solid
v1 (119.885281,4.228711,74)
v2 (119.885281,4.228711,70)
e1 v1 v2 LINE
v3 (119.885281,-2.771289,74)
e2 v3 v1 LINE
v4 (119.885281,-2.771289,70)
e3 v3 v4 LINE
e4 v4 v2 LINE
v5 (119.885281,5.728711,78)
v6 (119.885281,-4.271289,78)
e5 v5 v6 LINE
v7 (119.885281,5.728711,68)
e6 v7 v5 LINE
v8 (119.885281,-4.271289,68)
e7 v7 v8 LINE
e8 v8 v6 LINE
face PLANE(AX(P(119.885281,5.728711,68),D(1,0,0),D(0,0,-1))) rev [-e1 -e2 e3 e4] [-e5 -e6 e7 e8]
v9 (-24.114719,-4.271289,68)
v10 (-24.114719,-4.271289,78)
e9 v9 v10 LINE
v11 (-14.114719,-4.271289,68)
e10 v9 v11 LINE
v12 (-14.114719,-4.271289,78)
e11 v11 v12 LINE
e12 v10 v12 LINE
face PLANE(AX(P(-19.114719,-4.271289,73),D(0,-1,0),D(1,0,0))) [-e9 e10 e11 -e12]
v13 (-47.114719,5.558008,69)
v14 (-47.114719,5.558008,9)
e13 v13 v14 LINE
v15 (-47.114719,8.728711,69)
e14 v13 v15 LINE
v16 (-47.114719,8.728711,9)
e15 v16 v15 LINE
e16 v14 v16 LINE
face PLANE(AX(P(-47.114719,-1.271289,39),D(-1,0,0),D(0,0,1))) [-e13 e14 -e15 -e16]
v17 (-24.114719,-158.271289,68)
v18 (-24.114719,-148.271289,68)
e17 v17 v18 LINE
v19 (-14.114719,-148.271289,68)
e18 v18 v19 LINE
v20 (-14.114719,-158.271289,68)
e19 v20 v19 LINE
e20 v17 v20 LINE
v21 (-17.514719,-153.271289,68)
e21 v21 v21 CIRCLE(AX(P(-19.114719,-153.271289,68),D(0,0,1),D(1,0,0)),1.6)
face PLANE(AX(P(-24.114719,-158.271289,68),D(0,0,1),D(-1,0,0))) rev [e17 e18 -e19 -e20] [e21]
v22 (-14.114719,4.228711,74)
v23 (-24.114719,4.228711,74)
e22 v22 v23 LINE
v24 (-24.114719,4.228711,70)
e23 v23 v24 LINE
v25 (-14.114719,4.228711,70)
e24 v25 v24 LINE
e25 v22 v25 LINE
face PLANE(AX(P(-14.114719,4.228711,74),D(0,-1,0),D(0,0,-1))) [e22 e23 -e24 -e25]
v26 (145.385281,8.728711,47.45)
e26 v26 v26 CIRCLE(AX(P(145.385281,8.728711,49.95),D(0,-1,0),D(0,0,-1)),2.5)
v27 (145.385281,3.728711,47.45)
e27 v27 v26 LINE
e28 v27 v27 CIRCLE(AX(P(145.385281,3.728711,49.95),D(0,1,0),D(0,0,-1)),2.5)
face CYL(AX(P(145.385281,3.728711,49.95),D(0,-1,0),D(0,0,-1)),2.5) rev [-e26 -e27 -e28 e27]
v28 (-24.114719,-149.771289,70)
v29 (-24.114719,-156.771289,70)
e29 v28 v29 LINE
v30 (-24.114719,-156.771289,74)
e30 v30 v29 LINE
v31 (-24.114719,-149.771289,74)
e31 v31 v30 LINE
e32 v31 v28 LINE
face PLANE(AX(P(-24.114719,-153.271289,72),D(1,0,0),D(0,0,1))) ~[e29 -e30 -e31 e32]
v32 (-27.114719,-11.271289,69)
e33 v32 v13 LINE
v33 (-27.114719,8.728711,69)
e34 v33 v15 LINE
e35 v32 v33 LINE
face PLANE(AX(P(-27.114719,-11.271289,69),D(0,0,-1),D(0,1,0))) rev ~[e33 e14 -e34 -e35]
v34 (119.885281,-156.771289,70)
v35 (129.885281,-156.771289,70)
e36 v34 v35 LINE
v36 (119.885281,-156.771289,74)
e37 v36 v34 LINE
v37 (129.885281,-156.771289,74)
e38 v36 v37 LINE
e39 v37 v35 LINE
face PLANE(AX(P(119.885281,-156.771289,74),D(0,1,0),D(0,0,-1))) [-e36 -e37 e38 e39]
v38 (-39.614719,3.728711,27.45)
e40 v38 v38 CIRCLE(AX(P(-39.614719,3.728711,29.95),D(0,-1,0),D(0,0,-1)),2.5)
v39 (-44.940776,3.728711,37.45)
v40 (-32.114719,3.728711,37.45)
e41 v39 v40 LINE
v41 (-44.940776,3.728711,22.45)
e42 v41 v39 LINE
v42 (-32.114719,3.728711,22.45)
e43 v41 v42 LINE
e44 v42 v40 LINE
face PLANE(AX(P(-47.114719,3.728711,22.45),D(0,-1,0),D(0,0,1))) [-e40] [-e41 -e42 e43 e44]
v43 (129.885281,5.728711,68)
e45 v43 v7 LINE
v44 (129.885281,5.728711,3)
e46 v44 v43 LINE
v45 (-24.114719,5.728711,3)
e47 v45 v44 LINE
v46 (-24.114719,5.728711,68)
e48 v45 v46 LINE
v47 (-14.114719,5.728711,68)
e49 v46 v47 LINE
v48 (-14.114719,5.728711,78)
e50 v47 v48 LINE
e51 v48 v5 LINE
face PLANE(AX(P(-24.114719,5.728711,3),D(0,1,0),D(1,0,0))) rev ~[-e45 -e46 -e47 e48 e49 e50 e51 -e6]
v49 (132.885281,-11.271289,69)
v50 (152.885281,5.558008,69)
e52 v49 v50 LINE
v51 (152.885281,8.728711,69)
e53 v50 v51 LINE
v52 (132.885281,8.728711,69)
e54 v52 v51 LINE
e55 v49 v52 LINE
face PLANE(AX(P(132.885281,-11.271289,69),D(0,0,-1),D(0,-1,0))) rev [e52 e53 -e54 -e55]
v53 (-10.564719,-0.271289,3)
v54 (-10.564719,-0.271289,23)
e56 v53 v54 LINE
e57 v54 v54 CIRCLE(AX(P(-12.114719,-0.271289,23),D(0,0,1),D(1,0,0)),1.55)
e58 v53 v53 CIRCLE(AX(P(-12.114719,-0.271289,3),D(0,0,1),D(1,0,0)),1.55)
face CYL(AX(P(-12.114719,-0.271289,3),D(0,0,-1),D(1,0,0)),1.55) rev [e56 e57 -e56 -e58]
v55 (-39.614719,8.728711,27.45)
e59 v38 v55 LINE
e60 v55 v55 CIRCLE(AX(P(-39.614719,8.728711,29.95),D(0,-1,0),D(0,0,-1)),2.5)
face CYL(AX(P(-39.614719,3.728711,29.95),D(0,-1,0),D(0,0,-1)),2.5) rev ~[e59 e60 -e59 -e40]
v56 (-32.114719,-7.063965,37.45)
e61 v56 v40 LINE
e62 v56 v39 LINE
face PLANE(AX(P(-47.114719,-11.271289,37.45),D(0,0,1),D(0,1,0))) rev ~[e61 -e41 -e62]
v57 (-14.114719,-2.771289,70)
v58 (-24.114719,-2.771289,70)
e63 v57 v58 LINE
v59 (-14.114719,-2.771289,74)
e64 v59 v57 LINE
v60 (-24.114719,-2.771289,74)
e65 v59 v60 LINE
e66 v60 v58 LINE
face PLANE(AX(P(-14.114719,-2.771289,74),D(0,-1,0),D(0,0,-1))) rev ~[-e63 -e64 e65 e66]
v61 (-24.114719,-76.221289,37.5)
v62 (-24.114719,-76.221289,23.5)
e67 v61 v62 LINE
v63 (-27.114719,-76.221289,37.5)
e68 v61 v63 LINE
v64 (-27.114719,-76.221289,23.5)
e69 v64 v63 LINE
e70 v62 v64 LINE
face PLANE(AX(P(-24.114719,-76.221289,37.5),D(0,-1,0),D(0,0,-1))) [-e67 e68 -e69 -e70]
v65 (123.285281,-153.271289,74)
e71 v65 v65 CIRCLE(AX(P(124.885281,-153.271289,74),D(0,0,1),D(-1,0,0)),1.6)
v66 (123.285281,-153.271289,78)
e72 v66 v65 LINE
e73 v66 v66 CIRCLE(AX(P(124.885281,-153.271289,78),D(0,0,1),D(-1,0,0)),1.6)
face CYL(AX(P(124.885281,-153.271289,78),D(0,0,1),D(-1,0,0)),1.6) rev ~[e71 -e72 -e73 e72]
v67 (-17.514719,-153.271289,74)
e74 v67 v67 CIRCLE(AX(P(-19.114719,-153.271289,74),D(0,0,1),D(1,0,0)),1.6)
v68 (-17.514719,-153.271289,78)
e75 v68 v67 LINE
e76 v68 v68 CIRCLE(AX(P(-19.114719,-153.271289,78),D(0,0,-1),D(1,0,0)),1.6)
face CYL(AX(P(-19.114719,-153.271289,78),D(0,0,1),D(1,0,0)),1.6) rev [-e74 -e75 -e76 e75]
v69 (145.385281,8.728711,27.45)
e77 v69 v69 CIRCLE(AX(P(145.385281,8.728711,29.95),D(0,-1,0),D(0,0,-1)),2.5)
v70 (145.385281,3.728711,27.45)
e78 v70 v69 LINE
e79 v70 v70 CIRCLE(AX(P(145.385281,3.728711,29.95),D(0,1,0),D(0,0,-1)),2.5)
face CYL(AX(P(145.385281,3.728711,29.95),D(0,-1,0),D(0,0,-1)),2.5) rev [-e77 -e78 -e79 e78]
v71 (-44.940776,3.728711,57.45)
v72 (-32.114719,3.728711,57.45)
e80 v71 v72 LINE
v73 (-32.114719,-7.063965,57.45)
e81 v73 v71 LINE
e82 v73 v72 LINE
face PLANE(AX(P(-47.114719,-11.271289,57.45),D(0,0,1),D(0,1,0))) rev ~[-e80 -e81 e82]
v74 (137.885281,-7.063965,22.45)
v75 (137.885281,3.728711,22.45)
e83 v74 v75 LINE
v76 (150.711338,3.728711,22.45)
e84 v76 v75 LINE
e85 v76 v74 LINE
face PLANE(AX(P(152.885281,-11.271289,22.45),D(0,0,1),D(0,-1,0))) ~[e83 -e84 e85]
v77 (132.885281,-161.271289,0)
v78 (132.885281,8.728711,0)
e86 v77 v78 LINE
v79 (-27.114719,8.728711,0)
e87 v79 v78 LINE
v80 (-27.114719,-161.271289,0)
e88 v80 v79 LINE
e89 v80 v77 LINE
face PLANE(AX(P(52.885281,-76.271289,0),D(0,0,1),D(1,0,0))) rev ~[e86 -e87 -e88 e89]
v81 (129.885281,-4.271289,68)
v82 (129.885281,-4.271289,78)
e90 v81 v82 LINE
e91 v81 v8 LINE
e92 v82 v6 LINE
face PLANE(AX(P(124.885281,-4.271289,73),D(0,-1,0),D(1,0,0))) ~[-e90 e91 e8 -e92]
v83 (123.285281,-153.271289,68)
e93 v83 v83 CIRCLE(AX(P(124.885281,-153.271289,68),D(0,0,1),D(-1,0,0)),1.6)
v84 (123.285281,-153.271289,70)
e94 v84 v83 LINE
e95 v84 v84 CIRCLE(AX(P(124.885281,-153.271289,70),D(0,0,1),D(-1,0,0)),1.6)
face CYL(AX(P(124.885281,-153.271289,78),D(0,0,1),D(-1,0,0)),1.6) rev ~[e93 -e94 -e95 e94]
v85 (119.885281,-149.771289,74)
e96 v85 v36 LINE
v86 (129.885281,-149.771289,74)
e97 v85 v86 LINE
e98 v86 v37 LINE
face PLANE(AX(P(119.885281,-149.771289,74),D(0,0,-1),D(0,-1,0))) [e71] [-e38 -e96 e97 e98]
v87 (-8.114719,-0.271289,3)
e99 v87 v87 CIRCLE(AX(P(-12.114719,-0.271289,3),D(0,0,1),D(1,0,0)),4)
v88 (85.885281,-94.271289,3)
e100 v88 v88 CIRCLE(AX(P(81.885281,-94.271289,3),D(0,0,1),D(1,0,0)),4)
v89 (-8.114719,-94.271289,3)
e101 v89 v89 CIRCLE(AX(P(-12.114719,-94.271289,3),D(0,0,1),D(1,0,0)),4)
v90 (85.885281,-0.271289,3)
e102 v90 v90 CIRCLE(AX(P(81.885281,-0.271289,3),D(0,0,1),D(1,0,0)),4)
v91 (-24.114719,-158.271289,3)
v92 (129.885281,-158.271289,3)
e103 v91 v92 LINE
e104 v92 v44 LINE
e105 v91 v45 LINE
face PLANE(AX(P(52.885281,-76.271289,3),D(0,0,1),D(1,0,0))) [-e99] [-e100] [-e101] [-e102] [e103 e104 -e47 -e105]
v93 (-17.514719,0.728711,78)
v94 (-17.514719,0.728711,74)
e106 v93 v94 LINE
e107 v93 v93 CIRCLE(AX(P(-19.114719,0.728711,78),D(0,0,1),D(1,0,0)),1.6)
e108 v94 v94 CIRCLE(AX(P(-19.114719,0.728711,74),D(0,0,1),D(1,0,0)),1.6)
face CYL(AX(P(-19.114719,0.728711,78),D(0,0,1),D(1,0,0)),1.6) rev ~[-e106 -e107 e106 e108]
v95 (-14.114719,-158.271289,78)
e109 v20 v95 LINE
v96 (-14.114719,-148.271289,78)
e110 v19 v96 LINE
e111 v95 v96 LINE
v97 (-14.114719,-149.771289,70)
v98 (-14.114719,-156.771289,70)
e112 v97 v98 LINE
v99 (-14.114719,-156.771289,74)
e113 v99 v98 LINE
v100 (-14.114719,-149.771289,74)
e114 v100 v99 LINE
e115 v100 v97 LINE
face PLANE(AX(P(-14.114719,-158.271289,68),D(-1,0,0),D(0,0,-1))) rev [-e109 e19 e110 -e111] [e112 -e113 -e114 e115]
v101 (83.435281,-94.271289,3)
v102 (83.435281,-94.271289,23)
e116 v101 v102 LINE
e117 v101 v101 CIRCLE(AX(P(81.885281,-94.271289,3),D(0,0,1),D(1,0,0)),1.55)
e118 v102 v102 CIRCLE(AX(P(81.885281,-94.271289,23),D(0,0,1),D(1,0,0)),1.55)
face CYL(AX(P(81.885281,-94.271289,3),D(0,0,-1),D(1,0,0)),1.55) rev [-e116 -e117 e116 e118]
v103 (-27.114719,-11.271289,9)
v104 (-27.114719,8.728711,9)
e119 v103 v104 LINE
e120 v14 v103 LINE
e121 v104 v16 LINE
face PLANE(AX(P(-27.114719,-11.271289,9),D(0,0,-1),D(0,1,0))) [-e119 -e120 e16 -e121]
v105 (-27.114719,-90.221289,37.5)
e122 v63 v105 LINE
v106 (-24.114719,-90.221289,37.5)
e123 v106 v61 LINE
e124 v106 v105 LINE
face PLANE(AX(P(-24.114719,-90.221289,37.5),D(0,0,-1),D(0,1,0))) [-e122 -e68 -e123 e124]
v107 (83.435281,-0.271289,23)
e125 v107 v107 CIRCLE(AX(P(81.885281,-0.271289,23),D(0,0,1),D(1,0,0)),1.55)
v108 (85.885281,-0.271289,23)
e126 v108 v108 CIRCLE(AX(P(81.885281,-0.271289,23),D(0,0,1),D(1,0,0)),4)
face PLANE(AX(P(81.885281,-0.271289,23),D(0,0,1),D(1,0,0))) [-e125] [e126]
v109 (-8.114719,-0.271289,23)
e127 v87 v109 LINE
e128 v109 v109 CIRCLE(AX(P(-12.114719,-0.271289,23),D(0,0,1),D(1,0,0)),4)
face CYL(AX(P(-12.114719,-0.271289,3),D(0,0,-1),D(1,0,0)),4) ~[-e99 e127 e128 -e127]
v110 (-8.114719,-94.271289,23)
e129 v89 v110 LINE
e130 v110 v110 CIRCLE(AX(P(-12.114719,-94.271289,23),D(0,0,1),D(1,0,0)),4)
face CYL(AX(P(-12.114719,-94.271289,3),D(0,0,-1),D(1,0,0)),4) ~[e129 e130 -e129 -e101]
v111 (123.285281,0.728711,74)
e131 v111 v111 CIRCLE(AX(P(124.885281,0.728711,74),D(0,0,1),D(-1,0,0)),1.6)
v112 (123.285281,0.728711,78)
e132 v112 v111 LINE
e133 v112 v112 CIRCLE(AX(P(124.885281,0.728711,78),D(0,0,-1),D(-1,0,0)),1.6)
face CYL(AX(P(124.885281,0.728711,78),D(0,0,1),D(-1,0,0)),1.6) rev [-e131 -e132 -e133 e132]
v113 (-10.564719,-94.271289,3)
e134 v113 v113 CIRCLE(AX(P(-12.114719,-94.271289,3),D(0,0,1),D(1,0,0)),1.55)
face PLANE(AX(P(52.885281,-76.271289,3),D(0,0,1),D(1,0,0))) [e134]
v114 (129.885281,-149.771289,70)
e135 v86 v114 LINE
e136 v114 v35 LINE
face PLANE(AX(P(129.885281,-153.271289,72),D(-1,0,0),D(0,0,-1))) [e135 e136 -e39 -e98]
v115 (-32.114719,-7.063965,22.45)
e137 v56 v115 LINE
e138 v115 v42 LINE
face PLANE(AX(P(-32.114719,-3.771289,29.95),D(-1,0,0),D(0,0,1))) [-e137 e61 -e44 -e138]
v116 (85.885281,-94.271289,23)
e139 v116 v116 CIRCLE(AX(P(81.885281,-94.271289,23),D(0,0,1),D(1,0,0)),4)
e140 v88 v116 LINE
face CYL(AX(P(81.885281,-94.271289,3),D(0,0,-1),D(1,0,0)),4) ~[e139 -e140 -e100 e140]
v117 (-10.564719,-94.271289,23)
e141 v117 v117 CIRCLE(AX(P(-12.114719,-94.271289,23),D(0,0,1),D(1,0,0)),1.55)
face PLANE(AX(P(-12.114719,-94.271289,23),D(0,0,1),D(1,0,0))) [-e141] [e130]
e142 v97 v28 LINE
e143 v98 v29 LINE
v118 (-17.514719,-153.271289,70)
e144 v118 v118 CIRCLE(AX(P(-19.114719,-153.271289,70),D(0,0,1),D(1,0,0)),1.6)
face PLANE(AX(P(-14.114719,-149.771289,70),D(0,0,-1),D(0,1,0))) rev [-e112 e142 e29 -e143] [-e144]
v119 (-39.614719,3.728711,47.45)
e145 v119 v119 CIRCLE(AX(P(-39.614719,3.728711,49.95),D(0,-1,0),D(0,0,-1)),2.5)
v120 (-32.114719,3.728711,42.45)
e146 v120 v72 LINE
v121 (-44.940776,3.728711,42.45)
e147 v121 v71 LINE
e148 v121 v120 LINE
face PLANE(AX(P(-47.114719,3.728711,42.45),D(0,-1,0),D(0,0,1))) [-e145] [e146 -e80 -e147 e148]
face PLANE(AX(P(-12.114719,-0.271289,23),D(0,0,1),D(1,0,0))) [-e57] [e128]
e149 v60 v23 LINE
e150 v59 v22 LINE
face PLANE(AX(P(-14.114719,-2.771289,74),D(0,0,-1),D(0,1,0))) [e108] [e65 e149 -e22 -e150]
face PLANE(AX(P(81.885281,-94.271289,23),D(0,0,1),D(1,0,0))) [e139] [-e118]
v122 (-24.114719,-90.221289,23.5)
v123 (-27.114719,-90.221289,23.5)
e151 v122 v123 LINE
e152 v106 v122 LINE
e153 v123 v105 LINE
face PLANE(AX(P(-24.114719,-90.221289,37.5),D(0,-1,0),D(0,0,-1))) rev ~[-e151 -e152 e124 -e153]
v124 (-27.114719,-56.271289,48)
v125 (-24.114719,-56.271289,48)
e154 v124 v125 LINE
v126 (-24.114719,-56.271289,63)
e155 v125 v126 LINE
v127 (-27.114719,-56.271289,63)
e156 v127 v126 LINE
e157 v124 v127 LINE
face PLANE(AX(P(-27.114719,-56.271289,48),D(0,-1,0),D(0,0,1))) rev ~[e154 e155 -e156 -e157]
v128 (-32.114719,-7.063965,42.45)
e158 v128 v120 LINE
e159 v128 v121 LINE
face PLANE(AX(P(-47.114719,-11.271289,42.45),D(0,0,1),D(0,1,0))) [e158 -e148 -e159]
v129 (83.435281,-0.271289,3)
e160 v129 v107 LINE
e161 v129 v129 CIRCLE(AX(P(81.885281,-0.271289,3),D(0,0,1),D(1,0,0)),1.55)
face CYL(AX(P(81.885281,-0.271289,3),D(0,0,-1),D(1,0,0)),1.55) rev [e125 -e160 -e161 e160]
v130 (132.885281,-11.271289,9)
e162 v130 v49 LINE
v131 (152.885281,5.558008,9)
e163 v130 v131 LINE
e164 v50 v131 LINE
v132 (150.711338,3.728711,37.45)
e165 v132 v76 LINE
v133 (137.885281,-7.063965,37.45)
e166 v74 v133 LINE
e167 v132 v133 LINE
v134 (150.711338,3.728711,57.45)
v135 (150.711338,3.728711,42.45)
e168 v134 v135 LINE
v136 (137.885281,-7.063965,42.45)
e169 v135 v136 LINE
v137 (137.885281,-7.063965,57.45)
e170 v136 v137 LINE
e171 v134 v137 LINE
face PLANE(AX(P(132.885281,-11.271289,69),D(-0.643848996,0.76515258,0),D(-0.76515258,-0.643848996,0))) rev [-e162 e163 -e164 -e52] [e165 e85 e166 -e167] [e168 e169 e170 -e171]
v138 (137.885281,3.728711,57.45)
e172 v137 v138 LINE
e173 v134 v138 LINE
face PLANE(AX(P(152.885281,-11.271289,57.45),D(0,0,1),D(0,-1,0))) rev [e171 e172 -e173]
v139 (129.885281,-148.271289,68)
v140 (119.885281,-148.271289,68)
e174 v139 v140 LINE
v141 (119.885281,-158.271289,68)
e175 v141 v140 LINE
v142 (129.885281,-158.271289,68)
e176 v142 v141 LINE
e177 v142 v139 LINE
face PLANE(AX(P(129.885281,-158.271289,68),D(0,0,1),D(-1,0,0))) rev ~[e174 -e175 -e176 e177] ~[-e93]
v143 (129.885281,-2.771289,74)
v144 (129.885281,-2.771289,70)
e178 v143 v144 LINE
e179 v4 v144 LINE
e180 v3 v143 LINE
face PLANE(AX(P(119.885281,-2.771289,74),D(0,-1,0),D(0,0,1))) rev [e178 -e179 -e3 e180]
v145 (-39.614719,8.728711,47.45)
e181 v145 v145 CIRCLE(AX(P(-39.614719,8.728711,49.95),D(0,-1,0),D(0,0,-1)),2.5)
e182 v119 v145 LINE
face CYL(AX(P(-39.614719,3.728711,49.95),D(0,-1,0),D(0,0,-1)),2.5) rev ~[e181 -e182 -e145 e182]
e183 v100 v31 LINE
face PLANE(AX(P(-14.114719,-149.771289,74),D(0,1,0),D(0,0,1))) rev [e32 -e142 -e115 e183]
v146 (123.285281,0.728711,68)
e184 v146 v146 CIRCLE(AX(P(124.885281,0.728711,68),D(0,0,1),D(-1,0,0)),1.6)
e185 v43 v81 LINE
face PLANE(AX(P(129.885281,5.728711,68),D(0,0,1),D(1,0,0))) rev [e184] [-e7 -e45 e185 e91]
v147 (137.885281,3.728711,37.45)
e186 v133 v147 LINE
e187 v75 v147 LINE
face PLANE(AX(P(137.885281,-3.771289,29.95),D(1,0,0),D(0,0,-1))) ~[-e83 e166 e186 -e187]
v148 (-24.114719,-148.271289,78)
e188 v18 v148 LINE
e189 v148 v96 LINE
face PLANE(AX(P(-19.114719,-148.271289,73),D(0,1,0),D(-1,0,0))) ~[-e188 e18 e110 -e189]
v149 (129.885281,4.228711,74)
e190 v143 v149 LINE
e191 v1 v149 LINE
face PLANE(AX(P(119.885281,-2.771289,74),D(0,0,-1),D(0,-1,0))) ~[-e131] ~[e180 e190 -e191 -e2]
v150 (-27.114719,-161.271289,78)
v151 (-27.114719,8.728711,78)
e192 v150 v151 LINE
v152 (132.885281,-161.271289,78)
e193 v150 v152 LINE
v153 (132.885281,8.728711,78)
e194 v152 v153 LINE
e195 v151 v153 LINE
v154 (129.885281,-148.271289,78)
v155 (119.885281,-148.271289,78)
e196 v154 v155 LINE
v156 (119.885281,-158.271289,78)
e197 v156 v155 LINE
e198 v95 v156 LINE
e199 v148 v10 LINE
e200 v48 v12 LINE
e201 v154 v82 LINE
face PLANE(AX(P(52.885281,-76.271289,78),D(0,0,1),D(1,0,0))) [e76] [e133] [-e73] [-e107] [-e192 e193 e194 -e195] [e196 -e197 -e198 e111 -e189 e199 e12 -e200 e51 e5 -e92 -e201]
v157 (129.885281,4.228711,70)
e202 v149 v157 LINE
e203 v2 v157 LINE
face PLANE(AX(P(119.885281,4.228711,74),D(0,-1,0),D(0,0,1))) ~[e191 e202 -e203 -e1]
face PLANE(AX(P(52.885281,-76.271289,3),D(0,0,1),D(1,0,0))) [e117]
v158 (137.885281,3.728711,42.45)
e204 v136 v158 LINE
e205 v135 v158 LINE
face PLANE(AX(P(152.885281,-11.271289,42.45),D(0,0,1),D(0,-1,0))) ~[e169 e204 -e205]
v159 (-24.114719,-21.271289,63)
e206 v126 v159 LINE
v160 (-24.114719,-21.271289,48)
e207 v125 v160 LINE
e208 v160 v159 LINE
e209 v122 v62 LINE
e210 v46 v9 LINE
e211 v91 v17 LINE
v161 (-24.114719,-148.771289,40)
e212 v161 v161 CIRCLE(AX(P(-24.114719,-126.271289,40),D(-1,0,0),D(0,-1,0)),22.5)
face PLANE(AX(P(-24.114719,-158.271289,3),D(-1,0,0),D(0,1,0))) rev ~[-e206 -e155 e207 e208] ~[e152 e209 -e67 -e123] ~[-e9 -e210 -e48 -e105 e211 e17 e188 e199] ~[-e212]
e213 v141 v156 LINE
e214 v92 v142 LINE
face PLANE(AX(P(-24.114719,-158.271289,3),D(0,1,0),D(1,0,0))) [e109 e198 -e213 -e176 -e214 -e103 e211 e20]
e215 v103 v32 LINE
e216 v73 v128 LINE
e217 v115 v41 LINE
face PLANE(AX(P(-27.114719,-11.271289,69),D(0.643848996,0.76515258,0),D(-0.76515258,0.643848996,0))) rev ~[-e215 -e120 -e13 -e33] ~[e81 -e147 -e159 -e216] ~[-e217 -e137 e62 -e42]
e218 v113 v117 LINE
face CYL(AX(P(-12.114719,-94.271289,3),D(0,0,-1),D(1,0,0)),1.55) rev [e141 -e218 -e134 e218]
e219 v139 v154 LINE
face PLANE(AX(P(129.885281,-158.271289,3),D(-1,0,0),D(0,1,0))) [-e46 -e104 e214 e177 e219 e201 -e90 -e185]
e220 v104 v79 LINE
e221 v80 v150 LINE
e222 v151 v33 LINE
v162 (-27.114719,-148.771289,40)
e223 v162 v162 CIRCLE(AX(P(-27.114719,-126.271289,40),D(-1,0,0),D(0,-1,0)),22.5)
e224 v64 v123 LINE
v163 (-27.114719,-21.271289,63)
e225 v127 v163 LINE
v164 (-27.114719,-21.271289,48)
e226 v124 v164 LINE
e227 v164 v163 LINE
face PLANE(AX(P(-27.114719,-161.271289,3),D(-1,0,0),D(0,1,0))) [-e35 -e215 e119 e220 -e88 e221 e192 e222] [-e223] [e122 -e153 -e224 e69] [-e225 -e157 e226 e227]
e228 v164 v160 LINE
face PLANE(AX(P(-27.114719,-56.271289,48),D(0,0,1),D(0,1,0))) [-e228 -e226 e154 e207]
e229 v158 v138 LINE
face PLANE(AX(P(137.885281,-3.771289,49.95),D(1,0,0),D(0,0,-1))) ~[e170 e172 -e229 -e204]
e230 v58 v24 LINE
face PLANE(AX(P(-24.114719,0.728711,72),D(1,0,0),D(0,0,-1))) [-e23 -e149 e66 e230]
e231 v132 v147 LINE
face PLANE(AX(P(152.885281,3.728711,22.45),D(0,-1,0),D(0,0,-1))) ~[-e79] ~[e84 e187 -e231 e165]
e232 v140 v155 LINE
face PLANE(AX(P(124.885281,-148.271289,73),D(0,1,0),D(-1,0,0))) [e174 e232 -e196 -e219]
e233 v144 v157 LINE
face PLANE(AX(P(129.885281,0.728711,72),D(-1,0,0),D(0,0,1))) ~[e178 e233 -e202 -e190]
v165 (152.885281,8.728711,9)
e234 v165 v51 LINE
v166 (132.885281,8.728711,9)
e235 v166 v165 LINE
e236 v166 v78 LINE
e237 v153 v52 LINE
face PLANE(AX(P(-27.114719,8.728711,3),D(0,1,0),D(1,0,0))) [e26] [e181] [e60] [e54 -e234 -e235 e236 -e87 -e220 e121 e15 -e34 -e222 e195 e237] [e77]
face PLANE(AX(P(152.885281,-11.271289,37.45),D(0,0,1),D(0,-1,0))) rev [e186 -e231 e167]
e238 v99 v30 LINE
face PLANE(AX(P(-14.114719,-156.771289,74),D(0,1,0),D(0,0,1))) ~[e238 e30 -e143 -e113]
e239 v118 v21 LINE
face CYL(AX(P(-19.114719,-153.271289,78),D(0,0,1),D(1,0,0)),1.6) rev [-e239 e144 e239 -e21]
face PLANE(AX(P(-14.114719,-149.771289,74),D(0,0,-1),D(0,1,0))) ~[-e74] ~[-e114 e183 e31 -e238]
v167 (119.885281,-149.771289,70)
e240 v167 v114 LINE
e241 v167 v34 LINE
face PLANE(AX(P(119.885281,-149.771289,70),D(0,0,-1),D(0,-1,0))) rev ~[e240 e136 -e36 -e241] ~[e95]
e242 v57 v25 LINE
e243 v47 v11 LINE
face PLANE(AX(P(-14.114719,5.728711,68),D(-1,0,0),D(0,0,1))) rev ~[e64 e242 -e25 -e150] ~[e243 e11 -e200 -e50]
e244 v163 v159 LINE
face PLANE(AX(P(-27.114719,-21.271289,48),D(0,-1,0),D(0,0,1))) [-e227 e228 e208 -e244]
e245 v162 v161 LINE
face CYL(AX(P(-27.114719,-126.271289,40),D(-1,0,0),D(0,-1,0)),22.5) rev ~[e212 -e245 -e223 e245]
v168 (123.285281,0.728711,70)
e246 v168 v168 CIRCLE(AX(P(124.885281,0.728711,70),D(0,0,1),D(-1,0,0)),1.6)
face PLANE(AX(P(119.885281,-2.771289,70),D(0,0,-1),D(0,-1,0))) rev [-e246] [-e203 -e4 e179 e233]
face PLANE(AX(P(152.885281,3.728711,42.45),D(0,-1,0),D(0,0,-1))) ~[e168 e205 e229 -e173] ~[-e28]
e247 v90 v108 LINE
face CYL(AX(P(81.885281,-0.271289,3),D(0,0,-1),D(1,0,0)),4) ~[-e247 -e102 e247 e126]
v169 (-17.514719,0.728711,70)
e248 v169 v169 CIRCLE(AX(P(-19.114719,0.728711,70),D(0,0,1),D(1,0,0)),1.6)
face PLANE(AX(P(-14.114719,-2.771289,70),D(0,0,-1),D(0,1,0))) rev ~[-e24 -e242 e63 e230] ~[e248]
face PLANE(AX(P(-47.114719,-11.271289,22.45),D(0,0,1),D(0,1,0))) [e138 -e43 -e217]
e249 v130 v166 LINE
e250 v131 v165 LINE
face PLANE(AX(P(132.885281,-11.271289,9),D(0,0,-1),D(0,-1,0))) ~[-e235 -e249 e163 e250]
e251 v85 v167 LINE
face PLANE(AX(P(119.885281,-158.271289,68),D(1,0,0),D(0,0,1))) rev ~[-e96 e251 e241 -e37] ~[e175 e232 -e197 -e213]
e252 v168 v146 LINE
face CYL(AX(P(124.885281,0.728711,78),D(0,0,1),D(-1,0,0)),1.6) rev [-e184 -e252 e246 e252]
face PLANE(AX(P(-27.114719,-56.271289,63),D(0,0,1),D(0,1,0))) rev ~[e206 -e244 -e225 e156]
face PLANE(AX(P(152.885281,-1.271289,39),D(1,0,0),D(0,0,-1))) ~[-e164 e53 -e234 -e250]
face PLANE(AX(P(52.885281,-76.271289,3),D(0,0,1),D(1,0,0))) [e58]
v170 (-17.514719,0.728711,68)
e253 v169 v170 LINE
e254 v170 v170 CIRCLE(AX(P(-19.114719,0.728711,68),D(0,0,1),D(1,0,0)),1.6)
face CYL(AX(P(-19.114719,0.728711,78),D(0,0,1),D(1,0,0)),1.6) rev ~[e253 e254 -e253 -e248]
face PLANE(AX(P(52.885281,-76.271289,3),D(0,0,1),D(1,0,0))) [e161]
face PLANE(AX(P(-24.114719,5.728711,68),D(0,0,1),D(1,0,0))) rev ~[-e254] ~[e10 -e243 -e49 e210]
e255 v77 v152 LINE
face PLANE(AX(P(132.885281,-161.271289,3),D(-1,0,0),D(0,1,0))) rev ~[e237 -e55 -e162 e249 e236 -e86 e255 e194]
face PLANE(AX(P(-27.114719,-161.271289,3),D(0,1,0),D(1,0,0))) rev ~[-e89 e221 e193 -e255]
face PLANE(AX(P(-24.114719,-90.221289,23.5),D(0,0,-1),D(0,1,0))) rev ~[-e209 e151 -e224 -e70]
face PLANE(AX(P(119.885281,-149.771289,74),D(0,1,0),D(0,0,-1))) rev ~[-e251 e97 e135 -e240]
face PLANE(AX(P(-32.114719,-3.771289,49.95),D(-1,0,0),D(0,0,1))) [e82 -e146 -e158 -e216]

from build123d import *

# Parameters (mm, degrees)
SKETCH_1_W               = 160
SKETCH_1_H               = 170
EXTRUDE_1_DEPTH          = 3
SKETCH_9_W               = 160
SKETCH_9_H               = 170
SKETCH_9_W_2             = 154
SKETCH_9_H_2             = 164
EXTRUDE_6_DEPTH          = 75
SKETCH_10_R              = 4
SKETCH_10_R_2            = 1.55
EXTRUDE_7_DEPTH          = 20
SKETCH_11_W              = 14
SKETCH_11_H              = 14
CUT_EXTRUDE_3_DEPTH      = 20
SKETCH_12_R              = 22.5
CUT_EXTRUDE_4_DEPTH      = 10
SKETCH_13_W              = 15
SKETCH_13_H              = 35
CUT_EXTRUDE_5_DEPTH      = 10
SKETCH_14_W              = 10
SKETCH_14_H              = 10
EXTRUDE_8_DEPTH          = 10
SKETCH_15_W              = 4
SKETCH_15_H              = 7
CUT_EXTRUDE_6_DEPTH      = 10
SKETCH_16_R              = 1.6
CUT_EXTRUDE_7_DEPTH      = 20
MIRROR_4_COPY_1_SKETCH_W = 10
MIRROR_4_COPY_1_SKETCH_H = 10
MIRROR_4_COPY_1_DEPTH    = 10
MIRROR_4_COPY_2_SKETCH_W = 4
MIRROR_4_COPY_2_SKETCH_H = 7
MIRROR_4_COPY_2_DEPTH    = 10
MIRROR_4_COPY_3_SKETCH_R = 1.6
MIRROR_4_COPY_3_DEPTH    = 20
SKETCH_17_W              = 60
SKETCH_17_H              = 20
EXTRUDE_9_DEPTH          = 20
SKETCH_18_W              = 15
SKETCH_18_H              = 15
CUT_EXTRUDE_8_DEPTH      = 15
SKETCH_19_R              = 2.5
CUT_EXTRUDE_9_DEPTH      = 15
CUT_EXTRUDE_10_DEPTH     = 65


with BuildPart() as part:
    # 草图1 → 凸台-拉伸1 (new body)
    with BuildSketch(Plane.XY):
        with Locations((52.885281107, -76.271289123)):
            Rectangle(SKETCH_1_W, SKETCH_1_H)
    extrude(amount=EXTRUDE_1_DEPTH)

    # 草图9 → 凸台-拉伸6 (add)
    with BuildSketch(Plane.XY.offset(3)):
        with Locations((52.885281107, -76.271289123)):
            Rectangle(SKETCH_9_W, SKETCH_9_H)
        with Locations((52.885281107, -76.271289123)):
            Rectangle(SKETCH_9_W_2, SKETCH_9_H_2, mode=Mode.SUBTRACT)
    extrude(amount=EXTRUDE_6_DEPTH)

    # 草图10 → 凸台-拉伸7 (add)
    # profile 1 of 4: a face of its own
    with BuildSketch(Plane.XY.offset(3)):
        with Locations((-12.114718893, -0.271289123)):
            Circle(SKETCH_10_R)
        with Locations((-12.114718893, -0.271289123)):
            Circle(SKETCH_10_R_2, mode=Mode.SUBTRACT)
    # profile 2 of 4: a face of its own
    with BuildSketch(Plane.XY.offset(3)):
        with Locations((81.885281107, -0.271289123)):
            Circle(SKETCH_10_R)
        with Locations((81.885281107, -0.271289123)):
            Circle(SKETCH_10_R_2, mode=Mode.SUBTRACT)
    # profile 3 of 4: a face of its own
    with BuildSketch(Plane.XY.offset(3)):
        with Locations((-12.114718893, -94.271289123)):
            Circle(SKETCH_10_R)
        with Locations((-12.114718893, -94.271289123)):
            Circle(SKETCH_10_R_2, mode=Mode.SUBTRACT)
    # profile 4 of 4: a face of its own
    with BuildSketch(Plane.XY.offset(3)):
        with Locations((81.885281107, -94.271289123)):
            Circle(SKETCH_10_R)
        with Locations((81.885281107, -94.271289123)):
            Circle(SKETCH_10_R_2, mode=Mode.SUBTRACT)
    extrude(amount=EXTRUDE_7_DEPTH)

    # 草图11 → 切除-拉伸3 (cut)
    with BuildSketch(Plane(origin=(-24.114718893, 0, 0), x_dir=(0, 0, -1), z_dir=(1, 0, 0))):
        with Locations((-30.5, -83.221289123)):
            Rectangle(SKETCH_11_W, SKETCH_11_H)
    extrude(amount=-CUT_EXTRUDE_3_DEPTH, mode=Mode.SUBTRACT)

    # 草图12 → 切除-拉伸4 (cut)
    with BuildSketch(Plane.ZY.offset(27.114718893)):
        with Locations(Location((40, -126.271289123, 0), (0, 0, 270))):
            Circle(SKETCH_12_R)
    extrude(amount=-CUT_EXTRUDE_4_DEPTH, mode=Mode.SUBTRACT)

    # 草图13 → 切除-拉伸5 (cut)
    with BuildSketch(Plane.ZY.offset(27.114718893)):
        with Locations((55.5, -38.771289123)):
            Rectangle(SKETCH_13_W, SKETCH_13_H)
    extrude(amount=-CUT_EXTRUDE_5_DEPTH, mode=Mode.SUBTRACT)

    # 草图14 → 凸台-拉伸8 (add)
    with BuildSketch(Plane.XZ.offset(-5.728710877)):
        with Locations((-19.114718893, 73)):
            Rectangle(SKETCH_14_W, SKETCH_14_H)
    extrude_8 = extrude(amount=EXTRUDE_8_DEPTH)

    # 草图15 → 切除-拉伸6 (cut)
    with BuildSketch(Plane(origin=(-14.114718893, 0, 0), x_dir=(0, 0, -1), z_dir=(1, 0, 0))):
        with Locations((-72, 0.728710877)):
            Rectangle(SKETCH_15_W, SKETCH_15_H)
    cut_extrude_6 = extrude(amount=-CUT_EXTRUDE_6_DEPTH, mode=Mode.SUBTRACT)

    # 草图16 → 切除-拉伸7 (cut)
    with BuildSketch(Plane.XY.offset(78)):
        with Locations((-19.114718893, 0.728710877)):
            Circle(SKETCH_16_R)
    cut_extrude_7 = extrude(amount=-CUT_EXTRUDE_7_DEPTH, mode=Mode.SUBTRACT)

    # 镜向3: 凸台-拉伸8, 切除-拉伸6, 切除-拉伸7 across plane
    add(extrude_8.mirror(Plane.ZY.offset(-52.885281107)))
    add(cut_extrude_6.mirror(Plane.ZY.offset(-52.885281107)), mode=Mode.SUBTRACT)
    add(cut_extrude_7.mirror(Plane.ZY.offset(-52.885281107)), mode=Mode.SUBTRACT)

    # 镜向4: 凸台-拉伸8, 切除-拉伸6, 切除-拉伸7 across plane
    add(extrude_8.mirror(Plane.ZX.offset(-76.271289123)))
    add(cut_extrude_6.mirror(Plane.ZX.offset(-76.271289123)), mode=Mode.SUBTRACT)
    add(cut_extrude_7.mirror(Plane.ZX.offset(-76.271289123)), mode=Mode.SUBTRACT)

    # 镜向4 copy 1 sketch → 镜向4 copy 1 (add)
    with BuildSketch(Plane(origin=(105.770562214, -158.271289123, 0), x_dir=(-1, 0, 0), z_dir=(0, 1, 0))):
        with Locations((-19.114718893, 73)):
            Rectangle(MIRROR_4_COPY_1_SKETCH_W, MIRROR_4_COPY_1_SKETCH_H)
    extrude(amount=MIRROR_4_COPY_1_DEPTH)

    # 镜向4 copy 2 sketch → 镜向4 copy 2 (cut)
    with BuildSketch(Plane(origin=(119.885281107, -152.542578247, 0), x_dir=(0, 0, -1), z_dir=(-1, 0, 0))):
        with Locations((-72, 0.728710877)):
            Rectangle(MIRROR_4_COPY_2_SKETCH_W, MIRROR_4_COPY_2_SKETCH_H)
    extrude(amount=-MIRROR_4_COPY_2_DEPTH, mode=Mode.SUBTRACT)

    # 镜向4 copy 3 sketch → 镜向4 copy 3 (cut)
    with BuildSketch(Plane(origin=(105.770562214, -152.542578247, 78), x_dir=(-1, 0, 0), z_dir=(0, 0, 1))):
        with Locations((-19.114718893, 0.728710877)):
            Circle(MIRROR_4_COPY_3_SKETCH_R)
    extrude(amount=-MIRROR_4_COPY_3_DEPTH, mode=Mode.SUBTRACT)

    # 草图17 → 凸台-拉伸9 (add)
    with BuildSketch(Plane.ZY.offset(27.114718893)):
        with Locations((39, -1.271289123)):
            Rectangle(SKETCH_17_W, SKETCH_17_H)
    extrude_9 = extrude(amount=EXTRUDE_9_DEPTH)

    # 草图18 → 切除-拉伸8 (cut)
    with BuildSketch(Plane.ZY.offset(47.114718893)):
        with Locations((29.95, -3.771289123)):
            Rectangle(SKETCH_18_W, SKETCH_18_H)
        with Locations((49.95, -3.771289123)):
            Rectangle(SKETCH_18_W, SKETCH_18_H)
    cut_extrude_8 = extrude(amount=-CUT_EXTRUDE_8_DEPTH, mode=Mode.SUBTRACT)

    # 草图19 → 切除-拉伸9 (cut)
    with BuildSketch(Plane(origin=(0, 3.728710877, 0), x_dir=(-1, 0, 0), z_dir=(0, -1, 0))):
        with Locations(Location((39.614718893, -49.95, 0), (0, 0, 90))):
            Circle(SKETCH_19_R)
        with Locations(Location((39.614718893, -29.95, 0), (0, 0, 90))):
            Circle(SKETCH_19_R)
    cut_extrude_9 = extrude(amount=-CUT_EXTRUDE_9_DEPTH, mode=Mode.SUBTRACT)

    # 草图20 → 切除-拉伸10 (cut)
    with BuildSketch(Plane.XY.offset(69)):
        Polygon((-47.114718893, -11.271289123), (-27.114718893, -11.271289123), (-47.114718893, 5.558007734), align=None)
    cut_extrude_10 = extrude(amount=-CUT_EXTRUDE_10_DEPTH, mode=Mode.SUBTRACT)

    # 镜向5: 凸台-拉伸9, 切除-拉伸8, 切除-拉伸9, 切除-拉伸10 across plane
    add(extrude_9.mirror(Plane.ZY.offset(-52.885281107)))
    add(cut_extrude_8.mirror(Plane.ZY.offset(-52.885281107)), mode=Mode.SUBTRACT)
    add(cut_extrude_9.mirror(Plane.ZY.offset(-52.885281107)), mode=Mode.SUBTRACT)
    add(cut_extrude_10.mirror(Plane.ZY.offset(-52.885281107)), mode=Mode.SUBTRACT)


solid = part.part
